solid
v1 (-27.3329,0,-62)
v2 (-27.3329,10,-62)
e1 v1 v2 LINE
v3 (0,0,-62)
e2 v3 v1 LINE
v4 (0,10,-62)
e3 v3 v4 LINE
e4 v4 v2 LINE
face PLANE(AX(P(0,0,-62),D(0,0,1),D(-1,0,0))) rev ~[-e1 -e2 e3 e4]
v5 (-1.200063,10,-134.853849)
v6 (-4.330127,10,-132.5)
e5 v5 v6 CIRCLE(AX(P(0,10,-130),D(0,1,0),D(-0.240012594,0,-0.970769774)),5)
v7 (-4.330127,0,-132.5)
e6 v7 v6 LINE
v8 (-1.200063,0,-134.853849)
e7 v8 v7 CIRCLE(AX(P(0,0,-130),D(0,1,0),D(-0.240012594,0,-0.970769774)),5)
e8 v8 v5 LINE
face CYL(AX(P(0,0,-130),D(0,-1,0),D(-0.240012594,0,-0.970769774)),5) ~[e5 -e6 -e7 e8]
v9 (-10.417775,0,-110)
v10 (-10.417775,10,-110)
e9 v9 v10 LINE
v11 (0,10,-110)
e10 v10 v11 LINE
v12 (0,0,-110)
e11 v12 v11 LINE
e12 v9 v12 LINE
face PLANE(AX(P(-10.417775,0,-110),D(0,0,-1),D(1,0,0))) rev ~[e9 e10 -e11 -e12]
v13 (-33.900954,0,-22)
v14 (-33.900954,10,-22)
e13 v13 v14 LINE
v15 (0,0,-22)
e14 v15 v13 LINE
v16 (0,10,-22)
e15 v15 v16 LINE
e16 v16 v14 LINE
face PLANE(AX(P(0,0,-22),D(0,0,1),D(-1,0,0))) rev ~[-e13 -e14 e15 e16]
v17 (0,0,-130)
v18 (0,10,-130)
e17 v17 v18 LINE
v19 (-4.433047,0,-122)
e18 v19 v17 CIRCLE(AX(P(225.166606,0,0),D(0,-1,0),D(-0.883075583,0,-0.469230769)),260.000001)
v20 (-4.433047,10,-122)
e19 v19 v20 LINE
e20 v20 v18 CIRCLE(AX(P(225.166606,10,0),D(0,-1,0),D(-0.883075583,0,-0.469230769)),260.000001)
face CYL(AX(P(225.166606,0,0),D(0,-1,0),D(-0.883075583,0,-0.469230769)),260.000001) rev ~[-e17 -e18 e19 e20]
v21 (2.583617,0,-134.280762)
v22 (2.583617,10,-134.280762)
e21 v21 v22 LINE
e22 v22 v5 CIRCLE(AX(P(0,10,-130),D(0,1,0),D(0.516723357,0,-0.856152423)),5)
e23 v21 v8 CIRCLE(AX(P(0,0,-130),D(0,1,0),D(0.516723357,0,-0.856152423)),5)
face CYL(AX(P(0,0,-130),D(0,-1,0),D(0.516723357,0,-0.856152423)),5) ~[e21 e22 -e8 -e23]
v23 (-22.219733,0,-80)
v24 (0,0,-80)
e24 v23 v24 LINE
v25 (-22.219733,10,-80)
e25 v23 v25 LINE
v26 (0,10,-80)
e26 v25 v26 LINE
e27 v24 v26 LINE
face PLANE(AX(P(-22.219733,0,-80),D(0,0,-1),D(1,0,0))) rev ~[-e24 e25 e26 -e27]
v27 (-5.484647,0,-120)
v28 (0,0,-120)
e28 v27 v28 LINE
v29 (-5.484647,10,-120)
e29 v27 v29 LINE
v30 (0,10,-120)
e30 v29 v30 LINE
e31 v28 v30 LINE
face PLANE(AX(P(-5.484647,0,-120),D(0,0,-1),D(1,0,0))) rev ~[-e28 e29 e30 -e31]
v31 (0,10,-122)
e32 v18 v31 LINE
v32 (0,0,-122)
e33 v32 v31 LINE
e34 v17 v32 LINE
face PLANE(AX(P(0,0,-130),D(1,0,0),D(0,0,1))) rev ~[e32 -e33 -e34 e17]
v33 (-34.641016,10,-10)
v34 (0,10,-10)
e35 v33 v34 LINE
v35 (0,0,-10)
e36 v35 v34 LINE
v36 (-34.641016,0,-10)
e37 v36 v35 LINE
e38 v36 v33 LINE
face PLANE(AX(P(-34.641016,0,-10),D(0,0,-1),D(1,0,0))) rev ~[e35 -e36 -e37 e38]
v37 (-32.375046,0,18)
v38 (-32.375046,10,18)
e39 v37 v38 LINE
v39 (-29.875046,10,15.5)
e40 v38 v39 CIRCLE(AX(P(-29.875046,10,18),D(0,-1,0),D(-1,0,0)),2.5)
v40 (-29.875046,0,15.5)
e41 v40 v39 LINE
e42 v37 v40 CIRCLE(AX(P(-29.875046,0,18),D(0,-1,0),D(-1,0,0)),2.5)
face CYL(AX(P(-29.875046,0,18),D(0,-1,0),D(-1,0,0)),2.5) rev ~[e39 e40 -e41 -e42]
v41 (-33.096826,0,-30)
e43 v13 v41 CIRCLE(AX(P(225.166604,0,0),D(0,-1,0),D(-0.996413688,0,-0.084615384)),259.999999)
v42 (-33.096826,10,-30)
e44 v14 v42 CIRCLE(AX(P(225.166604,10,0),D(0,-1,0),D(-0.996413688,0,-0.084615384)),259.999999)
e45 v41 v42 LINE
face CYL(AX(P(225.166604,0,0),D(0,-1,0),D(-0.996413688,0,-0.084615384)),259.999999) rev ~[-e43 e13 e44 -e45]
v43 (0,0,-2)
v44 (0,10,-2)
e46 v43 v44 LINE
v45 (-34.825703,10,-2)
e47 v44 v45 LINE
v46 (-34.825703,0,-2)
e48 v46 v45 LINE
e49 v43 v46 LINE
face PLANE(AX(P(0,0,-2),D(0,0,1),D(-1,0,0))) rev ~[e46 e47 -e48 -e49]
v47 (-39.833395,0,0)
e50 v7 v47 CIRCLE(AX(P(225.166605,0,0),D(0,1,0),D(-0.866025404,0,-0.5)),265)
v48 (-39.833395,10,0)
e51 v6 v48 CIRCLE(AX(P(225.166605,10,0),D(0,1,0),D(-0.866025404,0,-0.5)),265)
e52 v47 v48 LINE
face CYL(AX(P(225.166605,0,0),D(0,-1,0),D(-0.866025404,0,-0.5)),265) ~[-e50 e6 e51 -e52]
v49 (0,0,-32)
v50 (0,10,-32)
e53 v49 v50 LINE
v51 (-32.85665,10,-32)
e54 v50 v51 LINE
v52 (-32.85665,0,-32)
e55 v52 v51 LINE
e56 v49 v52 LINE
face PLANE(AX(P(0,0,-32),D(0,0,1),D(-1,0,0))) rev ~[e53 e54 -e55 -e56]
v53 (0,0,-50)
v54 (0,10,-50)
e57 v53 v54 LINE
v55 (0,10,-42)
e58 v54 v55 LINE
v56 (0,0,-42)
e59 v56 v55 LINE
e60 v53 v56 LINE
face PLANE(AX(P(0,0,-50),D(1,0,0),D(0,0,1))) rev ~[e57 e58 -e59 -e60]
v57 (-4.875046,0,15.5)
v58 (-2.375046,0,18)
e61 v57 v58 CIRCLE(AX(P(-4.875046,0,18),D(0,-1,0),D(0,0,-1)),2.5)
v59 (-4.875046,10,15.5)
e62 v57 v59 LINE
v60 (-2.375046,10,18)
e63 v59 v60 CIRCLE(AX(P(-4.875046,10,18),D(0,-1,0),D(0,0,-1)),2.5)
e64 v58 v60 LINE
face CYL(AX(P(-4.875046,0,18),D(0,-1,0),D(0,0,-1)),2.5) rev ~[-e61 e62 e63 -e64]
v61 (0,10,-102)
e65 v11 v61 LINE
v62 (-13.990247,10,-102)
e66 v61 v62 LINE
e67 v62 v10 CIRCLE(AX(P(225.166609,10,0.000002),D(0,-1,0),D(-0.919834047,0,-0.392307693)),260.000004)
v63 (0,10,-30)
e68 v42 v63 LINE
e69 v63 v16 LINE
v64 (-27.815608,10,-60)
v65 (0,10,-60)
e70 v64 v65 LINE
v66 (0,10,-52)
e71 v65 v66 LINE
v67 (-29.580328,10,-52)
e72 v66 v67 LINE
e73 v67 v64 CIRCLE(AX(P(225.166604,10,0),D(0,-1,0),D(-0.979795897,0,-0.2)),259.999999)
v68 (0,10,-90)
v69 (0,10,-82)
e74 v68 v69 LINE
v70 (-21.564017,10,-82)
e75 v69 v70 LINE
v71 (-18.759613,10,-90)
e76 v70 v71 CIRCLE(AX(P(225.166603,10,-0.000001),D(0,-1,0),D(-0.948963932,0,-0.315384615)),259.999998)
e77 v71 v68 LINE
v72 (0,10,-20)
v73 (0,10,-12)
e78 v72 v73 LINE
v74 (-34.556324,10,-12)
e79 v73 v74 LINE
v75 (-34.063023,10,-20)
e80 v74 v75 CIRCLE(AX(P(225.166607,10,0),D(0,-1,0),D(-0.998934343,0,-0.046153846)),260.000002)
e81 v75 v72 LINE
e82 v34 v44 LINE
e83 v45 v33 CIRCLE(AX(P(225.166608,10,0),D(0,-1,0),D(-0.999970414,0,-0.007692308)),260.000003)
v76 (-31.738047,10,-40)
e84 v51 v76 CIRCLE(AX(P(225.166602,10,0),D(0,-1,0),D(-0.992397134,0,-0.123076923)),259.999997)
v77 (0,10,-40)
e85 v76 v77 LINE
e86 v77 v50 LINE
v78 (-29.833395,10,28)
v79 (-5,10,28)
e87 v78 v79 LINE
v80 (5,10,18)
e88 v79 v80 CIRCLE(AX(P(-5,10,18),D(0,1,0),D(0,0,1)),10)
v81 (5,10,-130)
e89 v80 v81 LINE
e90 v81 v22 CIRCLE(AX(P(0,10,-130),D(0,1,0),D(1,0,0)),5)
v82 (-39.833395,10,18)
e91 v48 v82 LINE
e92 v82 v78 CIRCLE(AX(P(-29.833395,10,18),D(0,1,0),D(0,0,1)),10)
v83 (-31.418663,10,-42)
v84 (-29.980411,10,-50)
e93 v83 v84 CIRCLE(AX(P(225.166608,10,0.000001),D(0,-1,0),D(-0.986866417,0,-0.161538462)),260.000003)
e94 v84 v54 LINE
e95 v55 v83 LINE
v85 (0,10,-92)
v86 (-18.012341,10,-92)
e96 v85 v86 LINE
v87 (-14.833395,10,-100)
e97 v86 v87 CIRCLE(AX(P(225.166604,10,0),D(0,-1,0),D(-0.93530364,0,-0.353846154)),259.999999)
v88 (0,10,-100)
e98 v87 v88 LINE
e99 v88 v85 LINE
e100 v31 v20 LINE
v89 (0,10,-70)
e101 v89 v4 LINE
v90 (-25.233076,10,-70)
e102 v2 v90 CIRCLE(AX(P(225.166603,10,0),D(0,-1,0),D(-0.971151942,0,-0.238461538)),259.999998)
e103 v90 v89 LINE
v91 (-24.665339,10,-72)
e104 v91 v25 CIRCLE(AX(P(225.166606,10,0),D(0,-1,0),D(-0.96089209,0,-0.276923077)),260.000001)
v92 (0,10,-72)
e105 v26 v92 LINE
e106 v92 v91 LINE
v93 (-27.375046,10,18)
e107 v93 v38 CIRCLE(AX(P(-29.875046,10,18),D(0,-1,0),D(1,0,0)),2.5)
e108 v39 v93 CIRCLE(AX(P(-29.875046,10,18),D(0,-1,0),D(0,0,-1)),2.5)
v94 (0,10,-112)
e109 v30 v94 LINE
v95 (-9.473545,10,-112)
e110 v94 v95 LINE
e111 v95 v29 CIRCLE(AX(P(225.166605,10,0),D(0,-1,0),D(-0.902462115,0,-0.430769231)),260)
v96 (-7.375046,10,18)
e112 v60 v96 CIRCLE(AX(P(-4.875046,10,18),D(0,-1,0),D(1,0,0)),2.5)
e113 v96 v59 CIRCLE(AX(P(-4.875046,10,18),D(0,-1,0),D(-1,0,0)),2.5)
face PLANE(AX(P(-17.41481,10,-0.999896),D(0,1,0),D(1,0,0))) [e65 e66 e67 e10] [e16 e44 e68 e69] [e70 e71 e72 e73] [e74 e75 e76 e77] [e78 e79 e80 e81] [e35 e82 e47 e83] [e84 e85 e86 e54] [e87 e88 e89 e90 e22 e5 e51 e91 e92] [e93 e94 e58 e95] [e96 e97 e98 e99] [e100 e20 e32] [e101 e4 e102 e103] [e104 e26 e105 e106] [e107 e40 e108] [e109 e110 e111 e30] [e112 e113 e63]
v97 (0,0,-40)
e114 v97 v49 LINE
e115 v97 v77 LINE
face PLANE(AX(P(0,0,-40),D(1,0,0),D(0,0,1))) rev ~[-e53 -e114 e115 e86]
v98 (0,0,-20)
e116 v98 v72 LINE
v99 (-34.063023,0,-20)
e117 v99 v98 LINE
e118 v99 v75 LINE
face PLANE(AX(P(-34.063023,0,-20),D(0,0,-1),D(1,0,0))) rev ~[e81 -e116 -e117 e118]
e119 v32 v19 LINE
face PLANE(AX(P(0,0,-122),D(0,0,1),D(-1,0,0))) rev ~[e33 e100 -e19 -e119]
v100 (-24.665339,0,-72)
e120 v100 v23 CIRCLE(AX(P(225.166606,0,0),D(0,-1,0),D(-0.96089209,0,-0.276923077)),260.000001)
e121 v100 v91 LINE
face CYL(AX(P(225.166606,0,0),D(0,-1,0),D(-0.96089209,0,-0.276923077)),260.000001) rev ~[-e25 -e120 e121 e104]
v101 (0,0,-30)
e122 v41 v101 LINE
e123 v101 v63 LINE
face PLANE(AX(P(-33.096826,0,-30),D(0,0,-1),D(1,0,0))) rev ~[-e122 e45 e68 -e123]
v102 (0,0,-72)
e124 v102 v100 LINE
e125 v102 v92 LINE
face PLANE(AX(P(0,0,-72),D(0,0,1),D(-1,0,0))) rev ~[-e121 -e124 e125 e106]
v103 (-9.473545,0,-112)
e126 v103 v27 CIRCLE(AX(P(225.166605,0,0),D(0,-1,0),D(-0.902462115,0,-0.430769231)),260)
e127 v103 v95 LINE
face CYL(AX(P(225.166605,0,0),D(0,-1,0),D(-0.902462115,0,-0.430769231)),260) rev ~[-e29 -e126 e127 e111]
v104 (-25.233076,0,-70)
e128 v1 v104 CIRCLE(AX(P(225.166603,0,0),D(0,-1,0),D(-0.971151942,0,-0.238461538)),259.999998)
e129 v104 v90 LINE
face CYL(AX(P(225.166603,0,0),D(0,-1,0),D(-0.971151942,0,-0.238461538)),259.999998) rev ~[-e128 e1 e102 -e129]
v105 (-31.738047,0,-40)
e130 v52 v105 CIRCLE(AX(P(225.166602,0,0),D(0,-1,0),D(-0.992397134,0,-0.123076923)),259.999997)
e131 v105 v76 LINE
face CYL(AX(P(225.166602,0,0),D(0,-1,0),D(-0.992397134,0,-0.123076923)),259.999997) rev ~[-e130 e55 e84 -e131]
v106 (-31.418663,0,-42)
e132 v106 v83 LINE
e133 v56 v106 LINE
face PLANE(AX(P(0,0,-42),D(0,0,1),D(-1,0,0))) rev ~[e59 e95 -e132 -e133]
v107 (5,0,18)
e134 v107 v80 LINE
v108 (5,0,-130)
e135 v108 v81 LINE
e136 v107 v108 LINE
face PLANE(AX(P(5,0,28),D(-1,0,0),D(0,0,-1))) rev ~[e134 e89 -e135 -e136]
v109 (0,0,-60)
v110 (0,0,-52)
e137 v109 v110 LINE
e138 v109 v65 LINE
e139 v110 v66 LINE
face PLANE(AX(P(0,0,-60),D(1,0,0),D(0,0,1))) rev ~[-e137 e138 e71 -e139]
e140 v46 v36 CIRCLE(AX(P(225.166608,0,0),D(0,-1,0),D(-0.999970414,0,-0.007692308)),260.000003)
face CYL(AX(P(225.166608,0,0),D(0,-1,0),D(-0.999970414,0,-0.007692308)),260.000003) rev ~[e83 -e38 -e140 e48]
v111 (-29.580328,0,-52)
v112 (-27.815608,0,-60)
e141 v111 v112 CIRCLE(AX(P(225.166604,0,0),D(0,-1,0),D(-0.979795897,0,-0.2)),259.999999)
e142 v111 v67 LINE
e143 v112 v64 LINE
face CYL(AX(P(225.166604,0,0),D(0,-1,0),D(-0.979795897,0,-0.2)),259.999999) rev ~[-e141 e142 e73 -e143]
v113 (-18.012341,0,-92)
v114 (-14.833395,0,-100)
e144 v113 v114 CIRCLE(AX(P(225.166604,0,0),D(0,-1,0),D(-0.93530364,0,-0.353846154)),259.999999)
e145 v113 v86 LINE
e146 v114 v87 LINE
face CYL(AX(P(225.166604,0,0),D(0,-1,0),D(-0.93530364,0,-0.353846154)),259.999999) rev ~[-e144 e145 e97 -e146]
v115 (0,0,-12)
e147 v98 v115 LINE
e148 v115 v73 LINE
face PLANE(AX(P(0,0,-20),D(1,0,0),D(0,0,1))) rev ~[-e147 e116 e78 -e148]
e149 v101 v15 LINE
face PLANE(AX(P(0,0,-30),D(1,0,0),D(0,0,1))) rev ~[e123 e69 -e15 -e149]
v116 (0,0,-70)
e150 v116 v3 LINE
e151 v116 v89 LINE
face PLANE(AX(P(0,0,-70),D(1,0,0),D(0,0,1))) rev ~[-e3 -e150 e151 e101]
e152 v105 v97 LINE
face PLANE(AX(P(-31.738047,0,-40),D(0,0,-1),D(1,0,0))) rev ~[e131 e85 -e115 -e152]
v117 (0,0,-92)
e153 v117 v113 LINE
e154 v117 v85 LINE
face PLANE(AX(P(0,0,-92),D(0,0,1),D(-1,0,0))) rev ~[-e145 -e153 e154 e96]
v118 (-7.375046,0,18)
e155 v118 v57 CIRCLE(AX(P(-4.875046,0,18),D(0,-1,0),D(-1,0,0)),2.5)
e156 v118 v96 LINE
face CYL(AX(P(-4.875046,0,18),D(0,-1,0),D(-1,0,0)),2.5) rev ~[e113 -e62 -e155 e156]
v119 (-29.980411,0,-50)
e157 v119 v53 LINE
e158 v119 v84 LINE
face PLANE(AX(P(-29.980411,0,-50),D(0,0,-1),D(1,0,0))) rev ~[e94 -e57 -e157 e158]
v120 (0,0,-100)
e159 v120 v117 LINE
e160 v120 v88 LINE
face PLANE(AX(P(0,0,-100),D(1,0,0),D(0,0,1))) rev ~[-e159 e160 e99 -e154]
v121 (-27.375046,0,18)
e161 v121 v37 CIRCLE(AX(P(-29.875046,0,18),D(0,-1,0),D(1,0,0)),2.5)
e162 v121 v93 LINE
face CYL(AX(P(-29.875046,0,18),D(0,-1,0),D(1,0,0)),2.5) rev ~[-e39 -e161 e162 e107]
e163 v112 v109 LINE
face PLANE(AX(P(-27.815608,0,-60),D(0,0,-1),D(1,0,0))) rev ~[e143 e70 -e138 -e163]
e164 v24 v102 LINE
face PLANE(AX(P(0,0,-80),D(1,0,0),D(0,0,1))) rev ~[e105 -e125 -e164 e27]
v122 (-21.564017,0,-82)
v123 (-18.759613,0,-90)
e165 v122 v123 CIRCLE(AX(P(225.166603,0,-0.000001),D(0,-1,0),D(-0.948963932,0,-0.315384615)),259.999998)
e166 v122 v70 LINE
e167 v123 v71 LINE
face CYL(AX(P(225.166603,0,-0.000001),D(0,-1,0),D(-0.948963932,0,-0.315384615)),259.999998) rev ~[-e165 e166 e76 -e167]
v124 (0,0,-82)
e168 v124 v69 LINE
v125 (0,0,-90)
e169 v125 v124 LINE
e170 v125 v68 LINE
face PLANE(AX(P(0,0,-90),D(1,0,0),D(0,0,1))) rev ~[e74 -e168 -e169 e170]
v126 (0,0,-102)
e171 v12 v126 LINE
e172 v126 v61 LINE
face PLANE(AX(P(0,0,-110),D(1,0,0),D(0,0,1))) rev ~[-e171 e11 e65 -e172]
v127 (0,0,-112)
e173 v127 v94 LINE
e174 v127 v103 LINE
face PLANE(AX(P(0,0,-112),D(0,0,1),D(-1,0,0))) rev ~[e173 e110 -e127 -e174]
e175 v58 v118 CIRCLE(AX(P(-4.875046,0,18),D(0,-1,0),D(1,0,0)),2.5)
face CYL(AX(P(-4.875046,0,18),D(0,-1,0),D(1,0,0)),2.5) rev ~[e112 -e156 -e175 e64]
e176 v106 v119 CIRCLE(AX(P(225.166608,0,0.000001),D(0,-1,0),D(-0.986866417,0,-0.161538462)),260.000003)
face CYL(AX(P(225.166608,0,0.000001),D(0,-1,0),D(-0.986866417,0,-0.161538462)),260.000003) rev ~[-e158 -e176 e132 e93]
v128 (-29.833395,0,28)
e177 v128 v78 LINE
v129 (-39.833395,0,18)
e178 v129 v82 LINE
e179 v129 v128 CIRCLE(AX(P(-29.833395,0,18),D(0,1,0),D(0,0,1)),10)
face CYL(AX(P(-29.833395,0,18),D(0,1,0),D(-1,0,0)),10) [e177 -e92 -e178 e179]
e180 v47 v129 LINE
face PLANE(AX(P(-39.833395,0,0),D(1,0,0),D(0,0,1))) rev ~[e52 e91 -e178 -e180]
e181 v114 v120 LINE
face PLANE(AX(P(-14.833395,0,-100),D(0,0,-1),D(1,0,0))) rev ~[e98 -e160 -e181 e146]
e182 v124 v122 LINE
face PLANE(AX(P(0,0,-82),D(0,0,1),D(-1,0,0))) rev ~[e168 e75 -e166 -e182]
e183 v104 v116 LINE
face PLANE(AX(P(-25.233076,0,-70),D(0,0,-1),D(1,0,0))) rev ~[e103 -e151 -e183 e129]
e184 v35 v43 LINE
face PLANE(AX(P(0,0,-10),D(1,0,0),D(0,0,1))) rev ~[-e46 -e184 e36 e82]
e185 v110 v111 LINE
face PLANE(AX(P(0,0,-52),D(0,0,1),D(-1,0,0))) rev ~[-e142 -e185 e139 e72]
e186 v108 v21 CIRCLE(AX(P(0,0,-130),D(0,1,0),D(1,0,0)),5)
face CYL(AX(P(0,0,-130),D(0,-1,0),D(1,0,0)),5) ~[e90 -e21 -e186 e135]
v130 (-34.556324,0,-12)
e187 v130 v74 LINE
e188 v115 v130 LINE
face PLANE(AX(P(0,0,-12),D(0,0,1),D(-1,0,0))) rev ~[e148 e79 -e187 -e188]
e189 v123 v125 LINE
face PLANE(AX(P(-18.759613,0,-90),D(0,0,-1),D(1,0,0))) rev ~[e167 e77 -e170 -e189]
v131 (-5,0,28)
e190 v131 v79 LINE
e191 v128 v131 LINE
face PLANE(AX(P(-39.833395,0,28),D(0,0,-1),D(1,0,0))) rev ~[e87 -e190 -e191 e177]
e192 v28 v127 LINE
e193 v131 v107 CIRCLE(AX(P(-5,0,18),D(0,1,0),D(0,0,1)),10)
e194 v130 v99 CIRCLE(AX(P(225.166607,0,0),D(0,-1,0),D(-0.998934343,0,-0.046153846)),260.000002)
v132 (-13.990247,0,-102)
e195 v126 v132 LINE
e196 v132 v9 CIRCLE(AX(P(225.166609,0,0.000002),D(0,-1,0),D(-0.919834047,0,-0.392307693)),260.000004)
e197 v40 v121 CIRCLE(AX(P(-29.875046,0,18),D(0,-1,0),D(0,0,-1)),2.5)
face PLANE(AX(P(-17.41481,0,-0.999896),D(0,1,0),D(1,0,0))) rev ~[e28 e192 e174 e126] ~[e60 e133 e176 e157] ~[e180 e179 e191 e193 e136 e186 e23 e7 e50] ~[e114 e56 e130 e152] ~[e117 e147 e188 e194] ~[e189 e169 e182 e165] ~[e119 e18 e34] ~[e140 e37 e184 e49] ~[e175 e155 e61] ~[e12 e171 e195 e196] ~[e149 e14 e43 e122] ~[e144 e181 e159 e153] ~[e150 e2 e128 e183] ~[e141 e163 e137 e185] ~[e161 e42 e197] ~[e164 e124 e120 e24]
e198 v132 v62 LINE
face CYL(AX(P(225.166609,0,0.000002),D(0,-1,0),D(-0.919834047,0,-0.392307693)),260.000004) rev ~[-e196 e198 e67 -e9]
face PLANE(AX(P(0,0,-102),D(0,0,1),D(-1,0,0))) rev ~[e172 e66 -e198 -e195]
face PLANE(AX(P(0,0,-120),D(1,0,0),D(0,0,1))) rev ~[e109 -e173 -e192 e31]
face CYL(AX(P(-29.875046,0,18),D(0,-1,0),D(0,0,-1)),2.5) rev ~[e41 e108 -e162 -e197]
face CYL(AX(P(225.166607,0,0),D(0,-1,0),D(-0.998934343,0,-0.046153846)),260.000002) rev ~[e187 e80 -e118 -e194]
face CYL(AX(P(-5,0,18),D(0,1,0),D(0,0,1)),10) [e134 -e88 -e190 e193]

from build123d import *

# Parameters (mm, degrees)
SKETCH1_W           = 34.833395016
SKETCH1_H           = 8
SKETCH1_W_2         = 5
SKETCH1_H_2         = 10
BOSS_EXTRUDE1_DEPTH = 10
FILLET1_R           = 10


with BuildPart() as part:
    # Sketch1 → Boss-Extrude1 (new body)
    with BuildSketch(Plane(origin=(0, 0, 0), x_dir=(1, 0, 0), z_dir=(0, 1, 0))):
        with BuildLine():
            Line((-34.833395016, 0), (0, 0))
            Line((0, 0), (0, 2))
            Line((0, 2), (-34.825702595, 2))
            ThreePointArc((-34.825702595, 2), (-34.831471904, 1.000007397), (-34.833395016, 0))
        make_face()
        Polygon((0, 2), (0, 0), (5, 0), (5, 130), (0, 130), (0, 122), (0, 120), (0, 112), (0, 110), (0, 102), (0, 100), (0, 92), (0, 90), (0, 82), (0, 80), (0, 72), (0, 70), (0, 62), (0, 60), (0, 52), (0, 50), (0, 42), (0, 40), (0, 32), (0, 30), (0, 22), (0, 20), (0, 12), (0, 10), align=None)
        with BuildLine():
            Line((-34.641016151, 10), (0, 10))
            Line((0, 10), (0, 12))
            Line((0, 12), (-34.556324308, 12))
            ThreePointArc((-34.556324308, 12), (-34.600595037, 11.000081508), (-34.641016151, 10))
        make_face()
        with BuildLine():
            Line((-39.833395016, 0), (-34.833395016, 0))
            ThreePointArc((-34.833395016, 0), (-34.831471904, 1.000007397), (-34.825702595, 2))
            ThreePointArc((-34.825702595, 2), (-34.764138624, 6.000710564), (-34.641016151, 10))
            ThreePointArc((-34.641016151, 10), (-34.600595037, 11.000081508), (-34.556324308, 12))
            ThreePointArc((-34.556324308, 12), (-34.340503133, 16.001901029), (-34.063022952, 20))
            ThreePointArc((-34.063022952, 20), (-33.98391775, 21.000156347), (-33.900953772, 22))
            ThreePointArc((-33.900953772, 22), (-33.529816222, 26.003108568), (-33.096826419, 30))
            ThreePointArc((-33.096826419, 30), (-32.978675002, 31.000232599), (-32.856649782, 32))
            ThreePointArc((-32.856649782, 32), (-32.328418622, 36.004344436), (-31.738046589, 40))
            ThreePointArc((-31.738046589, 40), (-31.580302492, 41.000310991), (-31.418663494, 42))
            ThreePointArc((-31.418663494, 42), (-30.730801915, 46.005620768), (-29.98041146, 50))
            ThreePointArc((-29.98041146, 50), (-29.782331047, 51.000392318), (-29.580328265, 52))
            ThreePointArc((-29.580328265, 52), (-28.729478957, 56.006950993), (-27.81560783, 60))
            ThreePointArc((-27.81560783, 60), (-27.576232201, 61.000477471), (-27.332899966, 62))
            ThreePointArc((-27.332899966, 62), (-26.314801256, 66.008350348), (-25.233075527, 70))
            ThreePointArc((-25.233075527, 70), (-24.951206094, 71.000567472), (-24.66533853, 72))
            ThreePointArc((-24.66533853, 72), (-23.474712485, 76.009836516), (-22.219732553, 80))
            ThreePointArc((-22.219732553, 80), (-21.893898758, 81.00066352), (-21.564017355, 82))
            ThreePointArc((-21.564017355, 82), (-20.194422544, 86.011430464), (-18.759613369, 90))
            ThreePointArc((-18.759613369, 90), (-18.388030357, 91.000767051), (-18.012341473, 92))
            ThreePointArc((-18.012341473, 92), (-16.455980001, 96.013157563), (-14.833395016, 100))
            ThreePointArc((-14.833395016, 100), (-14.413908154, 101.00087982), (-13.990247312, 102))
            ThreePointArc((-13.990247312, 102), (-12.237711236, 106.01504912), (-10.417774804, 110))
            ThreePointArc((-10.417774804, 110), (-9.947786552, 111.001004016), (-9.473545033, 112))
            ThreePointArc((-9.473545033, 112), (-7.513480483, 116.017144539), (-5.484646909, 120))
            ThreePointArc((-5.484646909, 120), (-4.961019464, 121.001142415), (-4.433046584, 122))
            ThreePointArc((-4.433046584, 122), (-2.25170348, 126.019494426), (0, 130))
            Line((0, 130), (-1.200062972, 134.853848871))
            ThreePointArc((-1.200062972, 134.853848871), (-3.00514583, 133.996135451), (-4.330127019, 132.5))
            ThreePointArc((-4.330127019, 132.5), (-30.803738983, 68.587046952), (-39.833395016, 0))
        make_face()
        with BuildLine():
            Line((-34.063022952, 20), (0, 20))
            Line((0, 20), (0, 22))
            Line((0, 22), (-33.900953772, 22))
            ThreePointArc((-33.900953772, 22), (-33.98391775, 21.000156347), (-34.063022952, 20))
        make_face()
        with BuildLine():
            Line((-33.096826419, 30), (0, 30))
            Line((0, 30), (0, 32))
            Line((0, 32), (-32.856649782, 32))
            ThreePointArc((-32.856649782, 32), (-32.978675002, 31.000232599), (-33.096826419, 30))
        make_face()
        with BuildLine():
            Line((-31.738046589, 40), (0, 40))
            Line((0, 40), (0, 42))
            Line((0, 42), (-31.418663494, 42))
            ThreePointArc((-31.418663494, 42), (-31.580302492, 41.000310991), (-31.738046589, 40))
        make_face()
        with BuildLine():
            Line((-29.98041146, 50), (0, 50))
            Line((0, 50), (0, 52))
            Line((0, 52), (-29.580328265, 52))
            ThreePointArc((-29.580328265, 52), (-29.782331047, 51.000392318), (-29.98041146, 50))
        make_face()
        with BuildLine():
            Line((-1.200062972, 134.853848871), (0, 130))
            Line((0, 130), (2.583616786, 134.280762117))
            ThreePointArc((2.583616786, 134.280762117), (0.748773929, 134.943615843), (-1.200062972, 134.853848871))
        make_face()
        with BuildLine():
            Line((0, 130), (5, 130))
            ThreePointArc((5, 130), (4.3541982, 132.457836047), (2.583616786, 134.280762117))
            Line((2.583616786, 134.280762117), (0, 130))
        make_face()
        with BuildLine():
            Line((0, 120), (0, 122))
            Line((0, 122), (-4.433046584, 122))
            ThreePointArc((-4.433046584, 122), (-4.961019464, 121.001142415), (-5.484646909, 120))
            Line((-5.484646909, 120), (0, 120))
        make_face()
        with BuildLine():
            Line((0, 110), (0, 112))
            Line((0, 112), (-9.473545033, 112))
            ThreePointArc((-9.473545033, 112), (-9.947786552, 111.001004016), (-10.417774804, 110))
            Line((-10.417774804, 110), (0, 110))
        make_face()
        with BuildLine():
            Line((0, 100), (0, 102))
            Line((0, 102), (-13.990247312, 102))
            ThreePointArc((-13.990247312, 102), (-14.413908154, 101.00087982), (-14.833395016, 100))
            Line((-14.833395016, 100), (0, 100))
        make_face()
        with BuildLine():
            Line((0, 90), (0, 92))
            Line((0, 92), (-18.012341473, 92))
            ThreePointArc((-18.012341473, 92), (-18.388030357, 91.000767051), (-18.759613369, 90))
            Line((-18.759613369, 90), (0, 90))
        make_face()
        with BuildLine():
            Line((0, 80), (0, 82))
            Line((0, 82), (-21.564017355, 82))
            ThreePointArc((-21.564017355, 82), (-21.893898758, 81.00066352), (-22.219732553, 80))
            Line((-22.219732553, 80), (0, 80))
        make_face()
        with BuildLine():
            Line((-25.233075527, 70), (0, 70))
            Line((0, 70), (0, 72))
            Line((0, 72), (-24.66533853, 72))
            ThreePointArc((-24.66533853, 72), (-24.951206094, 71.000567472), (-25.233075527, 70))
        make_face()
        with BuildLine():
            Line((-27.81560783, 60), (0, 60))
            Line((0, 60), (0, 62))
            Line((0, 62), (-27.332899966, 62))
            ThreePointArc((-27.332899966, 62), (-27.576232201, 61.000477471), (-27.81560783, 60))
        make_face()
        with Locations((-17.416697508, -4)):
            Rectangle(SKETCH1_W, SKETCH1_H)
        Polygon((-34.833395016, -8), (-34.833395016, 0), (-39.833395016, 0), (-39.833395016, -18), (-34.833395016, -18), align=None)
        with Locations((-37.333395016, -23)):
            Rectangle(SKETCH1_W_2, SKETCH1_H_2)
        with BuildLine():
            Line((0, -28), (0, -18))
            Line((0, -18), (-2.375046262, -18))
            ThreePointArc((-2.375046262, -18), (-4.875046262, -20.5), (-7.375046262, -18))
            Line((-7.375046262, -18), (-19.916697508, -18))
            Line((-19.916697508, -18), (-27.375046262, -18))
            ThreePointArc((-27.375046262, -18), (-29.875046262, -20.5), (-32.375046262, -18))
            Line((-32.375046262, -18), (-34.833395016, -18))
            Line((-34.833395016, -18), (-34.833395016, -28))
            Line((-34.833395016, -28), (0, -28))
        make_face()
        with BuildLine():
            Line((0, -18), (0, -8))
            Line((0, -8), (-34.833395016, -8))
            Line((-34.833395016, -8), (-34.833395016, -18))
            Line((-34.833395016, -18), (-32.375046262, -18))
            ThreePointArc((-32.375046262, -18), (-31.642813215, -16.232233047), (-29.875046262, -15.5))
            Line((-29.875046262, -15.5), (-4.875046262, -15.5))
            ThreePointArc((-4.875046262, -15.5), (-3.107279309, -16.232233047), (-2.375046262, -18))
            Line((-2.375046262, -18), (0, -18))
        make_face()
        with BuildLine():
            Line((-19.916697508, -18), (-7.375046262, -18))
            ThreePointArc((-7.375046262, -18), (-6.642813215, -16.232233047), (-4.875046262, -15.5))
            Line((-4.875046262, -15.5), (-29.875046262, -15.5))
            ThreePointArc((-29.875046262, -15.5), (-28.107279309, -16.232233047), (-27.375046262, -18))
            Line((-27.375046262, -18), (-19.916697508, -18))
        make_face()
        Polygon((5, 0), (0, 0), (0, -8), (0, -18), (0, -28), (5, -28), align=None)
    extrude(amount=BOSS_EXTRUDE1_DEPTH)

    # Fillet1
    fillet1_edges = [part.edges().sort_by_distance(p)[0] for p in [
        (5, 5, 28),
        (-39.833395016, 5, 28),
    ]]
    fillet(fillet1_edges, radius=FILLET1_R)


solid = part.part
